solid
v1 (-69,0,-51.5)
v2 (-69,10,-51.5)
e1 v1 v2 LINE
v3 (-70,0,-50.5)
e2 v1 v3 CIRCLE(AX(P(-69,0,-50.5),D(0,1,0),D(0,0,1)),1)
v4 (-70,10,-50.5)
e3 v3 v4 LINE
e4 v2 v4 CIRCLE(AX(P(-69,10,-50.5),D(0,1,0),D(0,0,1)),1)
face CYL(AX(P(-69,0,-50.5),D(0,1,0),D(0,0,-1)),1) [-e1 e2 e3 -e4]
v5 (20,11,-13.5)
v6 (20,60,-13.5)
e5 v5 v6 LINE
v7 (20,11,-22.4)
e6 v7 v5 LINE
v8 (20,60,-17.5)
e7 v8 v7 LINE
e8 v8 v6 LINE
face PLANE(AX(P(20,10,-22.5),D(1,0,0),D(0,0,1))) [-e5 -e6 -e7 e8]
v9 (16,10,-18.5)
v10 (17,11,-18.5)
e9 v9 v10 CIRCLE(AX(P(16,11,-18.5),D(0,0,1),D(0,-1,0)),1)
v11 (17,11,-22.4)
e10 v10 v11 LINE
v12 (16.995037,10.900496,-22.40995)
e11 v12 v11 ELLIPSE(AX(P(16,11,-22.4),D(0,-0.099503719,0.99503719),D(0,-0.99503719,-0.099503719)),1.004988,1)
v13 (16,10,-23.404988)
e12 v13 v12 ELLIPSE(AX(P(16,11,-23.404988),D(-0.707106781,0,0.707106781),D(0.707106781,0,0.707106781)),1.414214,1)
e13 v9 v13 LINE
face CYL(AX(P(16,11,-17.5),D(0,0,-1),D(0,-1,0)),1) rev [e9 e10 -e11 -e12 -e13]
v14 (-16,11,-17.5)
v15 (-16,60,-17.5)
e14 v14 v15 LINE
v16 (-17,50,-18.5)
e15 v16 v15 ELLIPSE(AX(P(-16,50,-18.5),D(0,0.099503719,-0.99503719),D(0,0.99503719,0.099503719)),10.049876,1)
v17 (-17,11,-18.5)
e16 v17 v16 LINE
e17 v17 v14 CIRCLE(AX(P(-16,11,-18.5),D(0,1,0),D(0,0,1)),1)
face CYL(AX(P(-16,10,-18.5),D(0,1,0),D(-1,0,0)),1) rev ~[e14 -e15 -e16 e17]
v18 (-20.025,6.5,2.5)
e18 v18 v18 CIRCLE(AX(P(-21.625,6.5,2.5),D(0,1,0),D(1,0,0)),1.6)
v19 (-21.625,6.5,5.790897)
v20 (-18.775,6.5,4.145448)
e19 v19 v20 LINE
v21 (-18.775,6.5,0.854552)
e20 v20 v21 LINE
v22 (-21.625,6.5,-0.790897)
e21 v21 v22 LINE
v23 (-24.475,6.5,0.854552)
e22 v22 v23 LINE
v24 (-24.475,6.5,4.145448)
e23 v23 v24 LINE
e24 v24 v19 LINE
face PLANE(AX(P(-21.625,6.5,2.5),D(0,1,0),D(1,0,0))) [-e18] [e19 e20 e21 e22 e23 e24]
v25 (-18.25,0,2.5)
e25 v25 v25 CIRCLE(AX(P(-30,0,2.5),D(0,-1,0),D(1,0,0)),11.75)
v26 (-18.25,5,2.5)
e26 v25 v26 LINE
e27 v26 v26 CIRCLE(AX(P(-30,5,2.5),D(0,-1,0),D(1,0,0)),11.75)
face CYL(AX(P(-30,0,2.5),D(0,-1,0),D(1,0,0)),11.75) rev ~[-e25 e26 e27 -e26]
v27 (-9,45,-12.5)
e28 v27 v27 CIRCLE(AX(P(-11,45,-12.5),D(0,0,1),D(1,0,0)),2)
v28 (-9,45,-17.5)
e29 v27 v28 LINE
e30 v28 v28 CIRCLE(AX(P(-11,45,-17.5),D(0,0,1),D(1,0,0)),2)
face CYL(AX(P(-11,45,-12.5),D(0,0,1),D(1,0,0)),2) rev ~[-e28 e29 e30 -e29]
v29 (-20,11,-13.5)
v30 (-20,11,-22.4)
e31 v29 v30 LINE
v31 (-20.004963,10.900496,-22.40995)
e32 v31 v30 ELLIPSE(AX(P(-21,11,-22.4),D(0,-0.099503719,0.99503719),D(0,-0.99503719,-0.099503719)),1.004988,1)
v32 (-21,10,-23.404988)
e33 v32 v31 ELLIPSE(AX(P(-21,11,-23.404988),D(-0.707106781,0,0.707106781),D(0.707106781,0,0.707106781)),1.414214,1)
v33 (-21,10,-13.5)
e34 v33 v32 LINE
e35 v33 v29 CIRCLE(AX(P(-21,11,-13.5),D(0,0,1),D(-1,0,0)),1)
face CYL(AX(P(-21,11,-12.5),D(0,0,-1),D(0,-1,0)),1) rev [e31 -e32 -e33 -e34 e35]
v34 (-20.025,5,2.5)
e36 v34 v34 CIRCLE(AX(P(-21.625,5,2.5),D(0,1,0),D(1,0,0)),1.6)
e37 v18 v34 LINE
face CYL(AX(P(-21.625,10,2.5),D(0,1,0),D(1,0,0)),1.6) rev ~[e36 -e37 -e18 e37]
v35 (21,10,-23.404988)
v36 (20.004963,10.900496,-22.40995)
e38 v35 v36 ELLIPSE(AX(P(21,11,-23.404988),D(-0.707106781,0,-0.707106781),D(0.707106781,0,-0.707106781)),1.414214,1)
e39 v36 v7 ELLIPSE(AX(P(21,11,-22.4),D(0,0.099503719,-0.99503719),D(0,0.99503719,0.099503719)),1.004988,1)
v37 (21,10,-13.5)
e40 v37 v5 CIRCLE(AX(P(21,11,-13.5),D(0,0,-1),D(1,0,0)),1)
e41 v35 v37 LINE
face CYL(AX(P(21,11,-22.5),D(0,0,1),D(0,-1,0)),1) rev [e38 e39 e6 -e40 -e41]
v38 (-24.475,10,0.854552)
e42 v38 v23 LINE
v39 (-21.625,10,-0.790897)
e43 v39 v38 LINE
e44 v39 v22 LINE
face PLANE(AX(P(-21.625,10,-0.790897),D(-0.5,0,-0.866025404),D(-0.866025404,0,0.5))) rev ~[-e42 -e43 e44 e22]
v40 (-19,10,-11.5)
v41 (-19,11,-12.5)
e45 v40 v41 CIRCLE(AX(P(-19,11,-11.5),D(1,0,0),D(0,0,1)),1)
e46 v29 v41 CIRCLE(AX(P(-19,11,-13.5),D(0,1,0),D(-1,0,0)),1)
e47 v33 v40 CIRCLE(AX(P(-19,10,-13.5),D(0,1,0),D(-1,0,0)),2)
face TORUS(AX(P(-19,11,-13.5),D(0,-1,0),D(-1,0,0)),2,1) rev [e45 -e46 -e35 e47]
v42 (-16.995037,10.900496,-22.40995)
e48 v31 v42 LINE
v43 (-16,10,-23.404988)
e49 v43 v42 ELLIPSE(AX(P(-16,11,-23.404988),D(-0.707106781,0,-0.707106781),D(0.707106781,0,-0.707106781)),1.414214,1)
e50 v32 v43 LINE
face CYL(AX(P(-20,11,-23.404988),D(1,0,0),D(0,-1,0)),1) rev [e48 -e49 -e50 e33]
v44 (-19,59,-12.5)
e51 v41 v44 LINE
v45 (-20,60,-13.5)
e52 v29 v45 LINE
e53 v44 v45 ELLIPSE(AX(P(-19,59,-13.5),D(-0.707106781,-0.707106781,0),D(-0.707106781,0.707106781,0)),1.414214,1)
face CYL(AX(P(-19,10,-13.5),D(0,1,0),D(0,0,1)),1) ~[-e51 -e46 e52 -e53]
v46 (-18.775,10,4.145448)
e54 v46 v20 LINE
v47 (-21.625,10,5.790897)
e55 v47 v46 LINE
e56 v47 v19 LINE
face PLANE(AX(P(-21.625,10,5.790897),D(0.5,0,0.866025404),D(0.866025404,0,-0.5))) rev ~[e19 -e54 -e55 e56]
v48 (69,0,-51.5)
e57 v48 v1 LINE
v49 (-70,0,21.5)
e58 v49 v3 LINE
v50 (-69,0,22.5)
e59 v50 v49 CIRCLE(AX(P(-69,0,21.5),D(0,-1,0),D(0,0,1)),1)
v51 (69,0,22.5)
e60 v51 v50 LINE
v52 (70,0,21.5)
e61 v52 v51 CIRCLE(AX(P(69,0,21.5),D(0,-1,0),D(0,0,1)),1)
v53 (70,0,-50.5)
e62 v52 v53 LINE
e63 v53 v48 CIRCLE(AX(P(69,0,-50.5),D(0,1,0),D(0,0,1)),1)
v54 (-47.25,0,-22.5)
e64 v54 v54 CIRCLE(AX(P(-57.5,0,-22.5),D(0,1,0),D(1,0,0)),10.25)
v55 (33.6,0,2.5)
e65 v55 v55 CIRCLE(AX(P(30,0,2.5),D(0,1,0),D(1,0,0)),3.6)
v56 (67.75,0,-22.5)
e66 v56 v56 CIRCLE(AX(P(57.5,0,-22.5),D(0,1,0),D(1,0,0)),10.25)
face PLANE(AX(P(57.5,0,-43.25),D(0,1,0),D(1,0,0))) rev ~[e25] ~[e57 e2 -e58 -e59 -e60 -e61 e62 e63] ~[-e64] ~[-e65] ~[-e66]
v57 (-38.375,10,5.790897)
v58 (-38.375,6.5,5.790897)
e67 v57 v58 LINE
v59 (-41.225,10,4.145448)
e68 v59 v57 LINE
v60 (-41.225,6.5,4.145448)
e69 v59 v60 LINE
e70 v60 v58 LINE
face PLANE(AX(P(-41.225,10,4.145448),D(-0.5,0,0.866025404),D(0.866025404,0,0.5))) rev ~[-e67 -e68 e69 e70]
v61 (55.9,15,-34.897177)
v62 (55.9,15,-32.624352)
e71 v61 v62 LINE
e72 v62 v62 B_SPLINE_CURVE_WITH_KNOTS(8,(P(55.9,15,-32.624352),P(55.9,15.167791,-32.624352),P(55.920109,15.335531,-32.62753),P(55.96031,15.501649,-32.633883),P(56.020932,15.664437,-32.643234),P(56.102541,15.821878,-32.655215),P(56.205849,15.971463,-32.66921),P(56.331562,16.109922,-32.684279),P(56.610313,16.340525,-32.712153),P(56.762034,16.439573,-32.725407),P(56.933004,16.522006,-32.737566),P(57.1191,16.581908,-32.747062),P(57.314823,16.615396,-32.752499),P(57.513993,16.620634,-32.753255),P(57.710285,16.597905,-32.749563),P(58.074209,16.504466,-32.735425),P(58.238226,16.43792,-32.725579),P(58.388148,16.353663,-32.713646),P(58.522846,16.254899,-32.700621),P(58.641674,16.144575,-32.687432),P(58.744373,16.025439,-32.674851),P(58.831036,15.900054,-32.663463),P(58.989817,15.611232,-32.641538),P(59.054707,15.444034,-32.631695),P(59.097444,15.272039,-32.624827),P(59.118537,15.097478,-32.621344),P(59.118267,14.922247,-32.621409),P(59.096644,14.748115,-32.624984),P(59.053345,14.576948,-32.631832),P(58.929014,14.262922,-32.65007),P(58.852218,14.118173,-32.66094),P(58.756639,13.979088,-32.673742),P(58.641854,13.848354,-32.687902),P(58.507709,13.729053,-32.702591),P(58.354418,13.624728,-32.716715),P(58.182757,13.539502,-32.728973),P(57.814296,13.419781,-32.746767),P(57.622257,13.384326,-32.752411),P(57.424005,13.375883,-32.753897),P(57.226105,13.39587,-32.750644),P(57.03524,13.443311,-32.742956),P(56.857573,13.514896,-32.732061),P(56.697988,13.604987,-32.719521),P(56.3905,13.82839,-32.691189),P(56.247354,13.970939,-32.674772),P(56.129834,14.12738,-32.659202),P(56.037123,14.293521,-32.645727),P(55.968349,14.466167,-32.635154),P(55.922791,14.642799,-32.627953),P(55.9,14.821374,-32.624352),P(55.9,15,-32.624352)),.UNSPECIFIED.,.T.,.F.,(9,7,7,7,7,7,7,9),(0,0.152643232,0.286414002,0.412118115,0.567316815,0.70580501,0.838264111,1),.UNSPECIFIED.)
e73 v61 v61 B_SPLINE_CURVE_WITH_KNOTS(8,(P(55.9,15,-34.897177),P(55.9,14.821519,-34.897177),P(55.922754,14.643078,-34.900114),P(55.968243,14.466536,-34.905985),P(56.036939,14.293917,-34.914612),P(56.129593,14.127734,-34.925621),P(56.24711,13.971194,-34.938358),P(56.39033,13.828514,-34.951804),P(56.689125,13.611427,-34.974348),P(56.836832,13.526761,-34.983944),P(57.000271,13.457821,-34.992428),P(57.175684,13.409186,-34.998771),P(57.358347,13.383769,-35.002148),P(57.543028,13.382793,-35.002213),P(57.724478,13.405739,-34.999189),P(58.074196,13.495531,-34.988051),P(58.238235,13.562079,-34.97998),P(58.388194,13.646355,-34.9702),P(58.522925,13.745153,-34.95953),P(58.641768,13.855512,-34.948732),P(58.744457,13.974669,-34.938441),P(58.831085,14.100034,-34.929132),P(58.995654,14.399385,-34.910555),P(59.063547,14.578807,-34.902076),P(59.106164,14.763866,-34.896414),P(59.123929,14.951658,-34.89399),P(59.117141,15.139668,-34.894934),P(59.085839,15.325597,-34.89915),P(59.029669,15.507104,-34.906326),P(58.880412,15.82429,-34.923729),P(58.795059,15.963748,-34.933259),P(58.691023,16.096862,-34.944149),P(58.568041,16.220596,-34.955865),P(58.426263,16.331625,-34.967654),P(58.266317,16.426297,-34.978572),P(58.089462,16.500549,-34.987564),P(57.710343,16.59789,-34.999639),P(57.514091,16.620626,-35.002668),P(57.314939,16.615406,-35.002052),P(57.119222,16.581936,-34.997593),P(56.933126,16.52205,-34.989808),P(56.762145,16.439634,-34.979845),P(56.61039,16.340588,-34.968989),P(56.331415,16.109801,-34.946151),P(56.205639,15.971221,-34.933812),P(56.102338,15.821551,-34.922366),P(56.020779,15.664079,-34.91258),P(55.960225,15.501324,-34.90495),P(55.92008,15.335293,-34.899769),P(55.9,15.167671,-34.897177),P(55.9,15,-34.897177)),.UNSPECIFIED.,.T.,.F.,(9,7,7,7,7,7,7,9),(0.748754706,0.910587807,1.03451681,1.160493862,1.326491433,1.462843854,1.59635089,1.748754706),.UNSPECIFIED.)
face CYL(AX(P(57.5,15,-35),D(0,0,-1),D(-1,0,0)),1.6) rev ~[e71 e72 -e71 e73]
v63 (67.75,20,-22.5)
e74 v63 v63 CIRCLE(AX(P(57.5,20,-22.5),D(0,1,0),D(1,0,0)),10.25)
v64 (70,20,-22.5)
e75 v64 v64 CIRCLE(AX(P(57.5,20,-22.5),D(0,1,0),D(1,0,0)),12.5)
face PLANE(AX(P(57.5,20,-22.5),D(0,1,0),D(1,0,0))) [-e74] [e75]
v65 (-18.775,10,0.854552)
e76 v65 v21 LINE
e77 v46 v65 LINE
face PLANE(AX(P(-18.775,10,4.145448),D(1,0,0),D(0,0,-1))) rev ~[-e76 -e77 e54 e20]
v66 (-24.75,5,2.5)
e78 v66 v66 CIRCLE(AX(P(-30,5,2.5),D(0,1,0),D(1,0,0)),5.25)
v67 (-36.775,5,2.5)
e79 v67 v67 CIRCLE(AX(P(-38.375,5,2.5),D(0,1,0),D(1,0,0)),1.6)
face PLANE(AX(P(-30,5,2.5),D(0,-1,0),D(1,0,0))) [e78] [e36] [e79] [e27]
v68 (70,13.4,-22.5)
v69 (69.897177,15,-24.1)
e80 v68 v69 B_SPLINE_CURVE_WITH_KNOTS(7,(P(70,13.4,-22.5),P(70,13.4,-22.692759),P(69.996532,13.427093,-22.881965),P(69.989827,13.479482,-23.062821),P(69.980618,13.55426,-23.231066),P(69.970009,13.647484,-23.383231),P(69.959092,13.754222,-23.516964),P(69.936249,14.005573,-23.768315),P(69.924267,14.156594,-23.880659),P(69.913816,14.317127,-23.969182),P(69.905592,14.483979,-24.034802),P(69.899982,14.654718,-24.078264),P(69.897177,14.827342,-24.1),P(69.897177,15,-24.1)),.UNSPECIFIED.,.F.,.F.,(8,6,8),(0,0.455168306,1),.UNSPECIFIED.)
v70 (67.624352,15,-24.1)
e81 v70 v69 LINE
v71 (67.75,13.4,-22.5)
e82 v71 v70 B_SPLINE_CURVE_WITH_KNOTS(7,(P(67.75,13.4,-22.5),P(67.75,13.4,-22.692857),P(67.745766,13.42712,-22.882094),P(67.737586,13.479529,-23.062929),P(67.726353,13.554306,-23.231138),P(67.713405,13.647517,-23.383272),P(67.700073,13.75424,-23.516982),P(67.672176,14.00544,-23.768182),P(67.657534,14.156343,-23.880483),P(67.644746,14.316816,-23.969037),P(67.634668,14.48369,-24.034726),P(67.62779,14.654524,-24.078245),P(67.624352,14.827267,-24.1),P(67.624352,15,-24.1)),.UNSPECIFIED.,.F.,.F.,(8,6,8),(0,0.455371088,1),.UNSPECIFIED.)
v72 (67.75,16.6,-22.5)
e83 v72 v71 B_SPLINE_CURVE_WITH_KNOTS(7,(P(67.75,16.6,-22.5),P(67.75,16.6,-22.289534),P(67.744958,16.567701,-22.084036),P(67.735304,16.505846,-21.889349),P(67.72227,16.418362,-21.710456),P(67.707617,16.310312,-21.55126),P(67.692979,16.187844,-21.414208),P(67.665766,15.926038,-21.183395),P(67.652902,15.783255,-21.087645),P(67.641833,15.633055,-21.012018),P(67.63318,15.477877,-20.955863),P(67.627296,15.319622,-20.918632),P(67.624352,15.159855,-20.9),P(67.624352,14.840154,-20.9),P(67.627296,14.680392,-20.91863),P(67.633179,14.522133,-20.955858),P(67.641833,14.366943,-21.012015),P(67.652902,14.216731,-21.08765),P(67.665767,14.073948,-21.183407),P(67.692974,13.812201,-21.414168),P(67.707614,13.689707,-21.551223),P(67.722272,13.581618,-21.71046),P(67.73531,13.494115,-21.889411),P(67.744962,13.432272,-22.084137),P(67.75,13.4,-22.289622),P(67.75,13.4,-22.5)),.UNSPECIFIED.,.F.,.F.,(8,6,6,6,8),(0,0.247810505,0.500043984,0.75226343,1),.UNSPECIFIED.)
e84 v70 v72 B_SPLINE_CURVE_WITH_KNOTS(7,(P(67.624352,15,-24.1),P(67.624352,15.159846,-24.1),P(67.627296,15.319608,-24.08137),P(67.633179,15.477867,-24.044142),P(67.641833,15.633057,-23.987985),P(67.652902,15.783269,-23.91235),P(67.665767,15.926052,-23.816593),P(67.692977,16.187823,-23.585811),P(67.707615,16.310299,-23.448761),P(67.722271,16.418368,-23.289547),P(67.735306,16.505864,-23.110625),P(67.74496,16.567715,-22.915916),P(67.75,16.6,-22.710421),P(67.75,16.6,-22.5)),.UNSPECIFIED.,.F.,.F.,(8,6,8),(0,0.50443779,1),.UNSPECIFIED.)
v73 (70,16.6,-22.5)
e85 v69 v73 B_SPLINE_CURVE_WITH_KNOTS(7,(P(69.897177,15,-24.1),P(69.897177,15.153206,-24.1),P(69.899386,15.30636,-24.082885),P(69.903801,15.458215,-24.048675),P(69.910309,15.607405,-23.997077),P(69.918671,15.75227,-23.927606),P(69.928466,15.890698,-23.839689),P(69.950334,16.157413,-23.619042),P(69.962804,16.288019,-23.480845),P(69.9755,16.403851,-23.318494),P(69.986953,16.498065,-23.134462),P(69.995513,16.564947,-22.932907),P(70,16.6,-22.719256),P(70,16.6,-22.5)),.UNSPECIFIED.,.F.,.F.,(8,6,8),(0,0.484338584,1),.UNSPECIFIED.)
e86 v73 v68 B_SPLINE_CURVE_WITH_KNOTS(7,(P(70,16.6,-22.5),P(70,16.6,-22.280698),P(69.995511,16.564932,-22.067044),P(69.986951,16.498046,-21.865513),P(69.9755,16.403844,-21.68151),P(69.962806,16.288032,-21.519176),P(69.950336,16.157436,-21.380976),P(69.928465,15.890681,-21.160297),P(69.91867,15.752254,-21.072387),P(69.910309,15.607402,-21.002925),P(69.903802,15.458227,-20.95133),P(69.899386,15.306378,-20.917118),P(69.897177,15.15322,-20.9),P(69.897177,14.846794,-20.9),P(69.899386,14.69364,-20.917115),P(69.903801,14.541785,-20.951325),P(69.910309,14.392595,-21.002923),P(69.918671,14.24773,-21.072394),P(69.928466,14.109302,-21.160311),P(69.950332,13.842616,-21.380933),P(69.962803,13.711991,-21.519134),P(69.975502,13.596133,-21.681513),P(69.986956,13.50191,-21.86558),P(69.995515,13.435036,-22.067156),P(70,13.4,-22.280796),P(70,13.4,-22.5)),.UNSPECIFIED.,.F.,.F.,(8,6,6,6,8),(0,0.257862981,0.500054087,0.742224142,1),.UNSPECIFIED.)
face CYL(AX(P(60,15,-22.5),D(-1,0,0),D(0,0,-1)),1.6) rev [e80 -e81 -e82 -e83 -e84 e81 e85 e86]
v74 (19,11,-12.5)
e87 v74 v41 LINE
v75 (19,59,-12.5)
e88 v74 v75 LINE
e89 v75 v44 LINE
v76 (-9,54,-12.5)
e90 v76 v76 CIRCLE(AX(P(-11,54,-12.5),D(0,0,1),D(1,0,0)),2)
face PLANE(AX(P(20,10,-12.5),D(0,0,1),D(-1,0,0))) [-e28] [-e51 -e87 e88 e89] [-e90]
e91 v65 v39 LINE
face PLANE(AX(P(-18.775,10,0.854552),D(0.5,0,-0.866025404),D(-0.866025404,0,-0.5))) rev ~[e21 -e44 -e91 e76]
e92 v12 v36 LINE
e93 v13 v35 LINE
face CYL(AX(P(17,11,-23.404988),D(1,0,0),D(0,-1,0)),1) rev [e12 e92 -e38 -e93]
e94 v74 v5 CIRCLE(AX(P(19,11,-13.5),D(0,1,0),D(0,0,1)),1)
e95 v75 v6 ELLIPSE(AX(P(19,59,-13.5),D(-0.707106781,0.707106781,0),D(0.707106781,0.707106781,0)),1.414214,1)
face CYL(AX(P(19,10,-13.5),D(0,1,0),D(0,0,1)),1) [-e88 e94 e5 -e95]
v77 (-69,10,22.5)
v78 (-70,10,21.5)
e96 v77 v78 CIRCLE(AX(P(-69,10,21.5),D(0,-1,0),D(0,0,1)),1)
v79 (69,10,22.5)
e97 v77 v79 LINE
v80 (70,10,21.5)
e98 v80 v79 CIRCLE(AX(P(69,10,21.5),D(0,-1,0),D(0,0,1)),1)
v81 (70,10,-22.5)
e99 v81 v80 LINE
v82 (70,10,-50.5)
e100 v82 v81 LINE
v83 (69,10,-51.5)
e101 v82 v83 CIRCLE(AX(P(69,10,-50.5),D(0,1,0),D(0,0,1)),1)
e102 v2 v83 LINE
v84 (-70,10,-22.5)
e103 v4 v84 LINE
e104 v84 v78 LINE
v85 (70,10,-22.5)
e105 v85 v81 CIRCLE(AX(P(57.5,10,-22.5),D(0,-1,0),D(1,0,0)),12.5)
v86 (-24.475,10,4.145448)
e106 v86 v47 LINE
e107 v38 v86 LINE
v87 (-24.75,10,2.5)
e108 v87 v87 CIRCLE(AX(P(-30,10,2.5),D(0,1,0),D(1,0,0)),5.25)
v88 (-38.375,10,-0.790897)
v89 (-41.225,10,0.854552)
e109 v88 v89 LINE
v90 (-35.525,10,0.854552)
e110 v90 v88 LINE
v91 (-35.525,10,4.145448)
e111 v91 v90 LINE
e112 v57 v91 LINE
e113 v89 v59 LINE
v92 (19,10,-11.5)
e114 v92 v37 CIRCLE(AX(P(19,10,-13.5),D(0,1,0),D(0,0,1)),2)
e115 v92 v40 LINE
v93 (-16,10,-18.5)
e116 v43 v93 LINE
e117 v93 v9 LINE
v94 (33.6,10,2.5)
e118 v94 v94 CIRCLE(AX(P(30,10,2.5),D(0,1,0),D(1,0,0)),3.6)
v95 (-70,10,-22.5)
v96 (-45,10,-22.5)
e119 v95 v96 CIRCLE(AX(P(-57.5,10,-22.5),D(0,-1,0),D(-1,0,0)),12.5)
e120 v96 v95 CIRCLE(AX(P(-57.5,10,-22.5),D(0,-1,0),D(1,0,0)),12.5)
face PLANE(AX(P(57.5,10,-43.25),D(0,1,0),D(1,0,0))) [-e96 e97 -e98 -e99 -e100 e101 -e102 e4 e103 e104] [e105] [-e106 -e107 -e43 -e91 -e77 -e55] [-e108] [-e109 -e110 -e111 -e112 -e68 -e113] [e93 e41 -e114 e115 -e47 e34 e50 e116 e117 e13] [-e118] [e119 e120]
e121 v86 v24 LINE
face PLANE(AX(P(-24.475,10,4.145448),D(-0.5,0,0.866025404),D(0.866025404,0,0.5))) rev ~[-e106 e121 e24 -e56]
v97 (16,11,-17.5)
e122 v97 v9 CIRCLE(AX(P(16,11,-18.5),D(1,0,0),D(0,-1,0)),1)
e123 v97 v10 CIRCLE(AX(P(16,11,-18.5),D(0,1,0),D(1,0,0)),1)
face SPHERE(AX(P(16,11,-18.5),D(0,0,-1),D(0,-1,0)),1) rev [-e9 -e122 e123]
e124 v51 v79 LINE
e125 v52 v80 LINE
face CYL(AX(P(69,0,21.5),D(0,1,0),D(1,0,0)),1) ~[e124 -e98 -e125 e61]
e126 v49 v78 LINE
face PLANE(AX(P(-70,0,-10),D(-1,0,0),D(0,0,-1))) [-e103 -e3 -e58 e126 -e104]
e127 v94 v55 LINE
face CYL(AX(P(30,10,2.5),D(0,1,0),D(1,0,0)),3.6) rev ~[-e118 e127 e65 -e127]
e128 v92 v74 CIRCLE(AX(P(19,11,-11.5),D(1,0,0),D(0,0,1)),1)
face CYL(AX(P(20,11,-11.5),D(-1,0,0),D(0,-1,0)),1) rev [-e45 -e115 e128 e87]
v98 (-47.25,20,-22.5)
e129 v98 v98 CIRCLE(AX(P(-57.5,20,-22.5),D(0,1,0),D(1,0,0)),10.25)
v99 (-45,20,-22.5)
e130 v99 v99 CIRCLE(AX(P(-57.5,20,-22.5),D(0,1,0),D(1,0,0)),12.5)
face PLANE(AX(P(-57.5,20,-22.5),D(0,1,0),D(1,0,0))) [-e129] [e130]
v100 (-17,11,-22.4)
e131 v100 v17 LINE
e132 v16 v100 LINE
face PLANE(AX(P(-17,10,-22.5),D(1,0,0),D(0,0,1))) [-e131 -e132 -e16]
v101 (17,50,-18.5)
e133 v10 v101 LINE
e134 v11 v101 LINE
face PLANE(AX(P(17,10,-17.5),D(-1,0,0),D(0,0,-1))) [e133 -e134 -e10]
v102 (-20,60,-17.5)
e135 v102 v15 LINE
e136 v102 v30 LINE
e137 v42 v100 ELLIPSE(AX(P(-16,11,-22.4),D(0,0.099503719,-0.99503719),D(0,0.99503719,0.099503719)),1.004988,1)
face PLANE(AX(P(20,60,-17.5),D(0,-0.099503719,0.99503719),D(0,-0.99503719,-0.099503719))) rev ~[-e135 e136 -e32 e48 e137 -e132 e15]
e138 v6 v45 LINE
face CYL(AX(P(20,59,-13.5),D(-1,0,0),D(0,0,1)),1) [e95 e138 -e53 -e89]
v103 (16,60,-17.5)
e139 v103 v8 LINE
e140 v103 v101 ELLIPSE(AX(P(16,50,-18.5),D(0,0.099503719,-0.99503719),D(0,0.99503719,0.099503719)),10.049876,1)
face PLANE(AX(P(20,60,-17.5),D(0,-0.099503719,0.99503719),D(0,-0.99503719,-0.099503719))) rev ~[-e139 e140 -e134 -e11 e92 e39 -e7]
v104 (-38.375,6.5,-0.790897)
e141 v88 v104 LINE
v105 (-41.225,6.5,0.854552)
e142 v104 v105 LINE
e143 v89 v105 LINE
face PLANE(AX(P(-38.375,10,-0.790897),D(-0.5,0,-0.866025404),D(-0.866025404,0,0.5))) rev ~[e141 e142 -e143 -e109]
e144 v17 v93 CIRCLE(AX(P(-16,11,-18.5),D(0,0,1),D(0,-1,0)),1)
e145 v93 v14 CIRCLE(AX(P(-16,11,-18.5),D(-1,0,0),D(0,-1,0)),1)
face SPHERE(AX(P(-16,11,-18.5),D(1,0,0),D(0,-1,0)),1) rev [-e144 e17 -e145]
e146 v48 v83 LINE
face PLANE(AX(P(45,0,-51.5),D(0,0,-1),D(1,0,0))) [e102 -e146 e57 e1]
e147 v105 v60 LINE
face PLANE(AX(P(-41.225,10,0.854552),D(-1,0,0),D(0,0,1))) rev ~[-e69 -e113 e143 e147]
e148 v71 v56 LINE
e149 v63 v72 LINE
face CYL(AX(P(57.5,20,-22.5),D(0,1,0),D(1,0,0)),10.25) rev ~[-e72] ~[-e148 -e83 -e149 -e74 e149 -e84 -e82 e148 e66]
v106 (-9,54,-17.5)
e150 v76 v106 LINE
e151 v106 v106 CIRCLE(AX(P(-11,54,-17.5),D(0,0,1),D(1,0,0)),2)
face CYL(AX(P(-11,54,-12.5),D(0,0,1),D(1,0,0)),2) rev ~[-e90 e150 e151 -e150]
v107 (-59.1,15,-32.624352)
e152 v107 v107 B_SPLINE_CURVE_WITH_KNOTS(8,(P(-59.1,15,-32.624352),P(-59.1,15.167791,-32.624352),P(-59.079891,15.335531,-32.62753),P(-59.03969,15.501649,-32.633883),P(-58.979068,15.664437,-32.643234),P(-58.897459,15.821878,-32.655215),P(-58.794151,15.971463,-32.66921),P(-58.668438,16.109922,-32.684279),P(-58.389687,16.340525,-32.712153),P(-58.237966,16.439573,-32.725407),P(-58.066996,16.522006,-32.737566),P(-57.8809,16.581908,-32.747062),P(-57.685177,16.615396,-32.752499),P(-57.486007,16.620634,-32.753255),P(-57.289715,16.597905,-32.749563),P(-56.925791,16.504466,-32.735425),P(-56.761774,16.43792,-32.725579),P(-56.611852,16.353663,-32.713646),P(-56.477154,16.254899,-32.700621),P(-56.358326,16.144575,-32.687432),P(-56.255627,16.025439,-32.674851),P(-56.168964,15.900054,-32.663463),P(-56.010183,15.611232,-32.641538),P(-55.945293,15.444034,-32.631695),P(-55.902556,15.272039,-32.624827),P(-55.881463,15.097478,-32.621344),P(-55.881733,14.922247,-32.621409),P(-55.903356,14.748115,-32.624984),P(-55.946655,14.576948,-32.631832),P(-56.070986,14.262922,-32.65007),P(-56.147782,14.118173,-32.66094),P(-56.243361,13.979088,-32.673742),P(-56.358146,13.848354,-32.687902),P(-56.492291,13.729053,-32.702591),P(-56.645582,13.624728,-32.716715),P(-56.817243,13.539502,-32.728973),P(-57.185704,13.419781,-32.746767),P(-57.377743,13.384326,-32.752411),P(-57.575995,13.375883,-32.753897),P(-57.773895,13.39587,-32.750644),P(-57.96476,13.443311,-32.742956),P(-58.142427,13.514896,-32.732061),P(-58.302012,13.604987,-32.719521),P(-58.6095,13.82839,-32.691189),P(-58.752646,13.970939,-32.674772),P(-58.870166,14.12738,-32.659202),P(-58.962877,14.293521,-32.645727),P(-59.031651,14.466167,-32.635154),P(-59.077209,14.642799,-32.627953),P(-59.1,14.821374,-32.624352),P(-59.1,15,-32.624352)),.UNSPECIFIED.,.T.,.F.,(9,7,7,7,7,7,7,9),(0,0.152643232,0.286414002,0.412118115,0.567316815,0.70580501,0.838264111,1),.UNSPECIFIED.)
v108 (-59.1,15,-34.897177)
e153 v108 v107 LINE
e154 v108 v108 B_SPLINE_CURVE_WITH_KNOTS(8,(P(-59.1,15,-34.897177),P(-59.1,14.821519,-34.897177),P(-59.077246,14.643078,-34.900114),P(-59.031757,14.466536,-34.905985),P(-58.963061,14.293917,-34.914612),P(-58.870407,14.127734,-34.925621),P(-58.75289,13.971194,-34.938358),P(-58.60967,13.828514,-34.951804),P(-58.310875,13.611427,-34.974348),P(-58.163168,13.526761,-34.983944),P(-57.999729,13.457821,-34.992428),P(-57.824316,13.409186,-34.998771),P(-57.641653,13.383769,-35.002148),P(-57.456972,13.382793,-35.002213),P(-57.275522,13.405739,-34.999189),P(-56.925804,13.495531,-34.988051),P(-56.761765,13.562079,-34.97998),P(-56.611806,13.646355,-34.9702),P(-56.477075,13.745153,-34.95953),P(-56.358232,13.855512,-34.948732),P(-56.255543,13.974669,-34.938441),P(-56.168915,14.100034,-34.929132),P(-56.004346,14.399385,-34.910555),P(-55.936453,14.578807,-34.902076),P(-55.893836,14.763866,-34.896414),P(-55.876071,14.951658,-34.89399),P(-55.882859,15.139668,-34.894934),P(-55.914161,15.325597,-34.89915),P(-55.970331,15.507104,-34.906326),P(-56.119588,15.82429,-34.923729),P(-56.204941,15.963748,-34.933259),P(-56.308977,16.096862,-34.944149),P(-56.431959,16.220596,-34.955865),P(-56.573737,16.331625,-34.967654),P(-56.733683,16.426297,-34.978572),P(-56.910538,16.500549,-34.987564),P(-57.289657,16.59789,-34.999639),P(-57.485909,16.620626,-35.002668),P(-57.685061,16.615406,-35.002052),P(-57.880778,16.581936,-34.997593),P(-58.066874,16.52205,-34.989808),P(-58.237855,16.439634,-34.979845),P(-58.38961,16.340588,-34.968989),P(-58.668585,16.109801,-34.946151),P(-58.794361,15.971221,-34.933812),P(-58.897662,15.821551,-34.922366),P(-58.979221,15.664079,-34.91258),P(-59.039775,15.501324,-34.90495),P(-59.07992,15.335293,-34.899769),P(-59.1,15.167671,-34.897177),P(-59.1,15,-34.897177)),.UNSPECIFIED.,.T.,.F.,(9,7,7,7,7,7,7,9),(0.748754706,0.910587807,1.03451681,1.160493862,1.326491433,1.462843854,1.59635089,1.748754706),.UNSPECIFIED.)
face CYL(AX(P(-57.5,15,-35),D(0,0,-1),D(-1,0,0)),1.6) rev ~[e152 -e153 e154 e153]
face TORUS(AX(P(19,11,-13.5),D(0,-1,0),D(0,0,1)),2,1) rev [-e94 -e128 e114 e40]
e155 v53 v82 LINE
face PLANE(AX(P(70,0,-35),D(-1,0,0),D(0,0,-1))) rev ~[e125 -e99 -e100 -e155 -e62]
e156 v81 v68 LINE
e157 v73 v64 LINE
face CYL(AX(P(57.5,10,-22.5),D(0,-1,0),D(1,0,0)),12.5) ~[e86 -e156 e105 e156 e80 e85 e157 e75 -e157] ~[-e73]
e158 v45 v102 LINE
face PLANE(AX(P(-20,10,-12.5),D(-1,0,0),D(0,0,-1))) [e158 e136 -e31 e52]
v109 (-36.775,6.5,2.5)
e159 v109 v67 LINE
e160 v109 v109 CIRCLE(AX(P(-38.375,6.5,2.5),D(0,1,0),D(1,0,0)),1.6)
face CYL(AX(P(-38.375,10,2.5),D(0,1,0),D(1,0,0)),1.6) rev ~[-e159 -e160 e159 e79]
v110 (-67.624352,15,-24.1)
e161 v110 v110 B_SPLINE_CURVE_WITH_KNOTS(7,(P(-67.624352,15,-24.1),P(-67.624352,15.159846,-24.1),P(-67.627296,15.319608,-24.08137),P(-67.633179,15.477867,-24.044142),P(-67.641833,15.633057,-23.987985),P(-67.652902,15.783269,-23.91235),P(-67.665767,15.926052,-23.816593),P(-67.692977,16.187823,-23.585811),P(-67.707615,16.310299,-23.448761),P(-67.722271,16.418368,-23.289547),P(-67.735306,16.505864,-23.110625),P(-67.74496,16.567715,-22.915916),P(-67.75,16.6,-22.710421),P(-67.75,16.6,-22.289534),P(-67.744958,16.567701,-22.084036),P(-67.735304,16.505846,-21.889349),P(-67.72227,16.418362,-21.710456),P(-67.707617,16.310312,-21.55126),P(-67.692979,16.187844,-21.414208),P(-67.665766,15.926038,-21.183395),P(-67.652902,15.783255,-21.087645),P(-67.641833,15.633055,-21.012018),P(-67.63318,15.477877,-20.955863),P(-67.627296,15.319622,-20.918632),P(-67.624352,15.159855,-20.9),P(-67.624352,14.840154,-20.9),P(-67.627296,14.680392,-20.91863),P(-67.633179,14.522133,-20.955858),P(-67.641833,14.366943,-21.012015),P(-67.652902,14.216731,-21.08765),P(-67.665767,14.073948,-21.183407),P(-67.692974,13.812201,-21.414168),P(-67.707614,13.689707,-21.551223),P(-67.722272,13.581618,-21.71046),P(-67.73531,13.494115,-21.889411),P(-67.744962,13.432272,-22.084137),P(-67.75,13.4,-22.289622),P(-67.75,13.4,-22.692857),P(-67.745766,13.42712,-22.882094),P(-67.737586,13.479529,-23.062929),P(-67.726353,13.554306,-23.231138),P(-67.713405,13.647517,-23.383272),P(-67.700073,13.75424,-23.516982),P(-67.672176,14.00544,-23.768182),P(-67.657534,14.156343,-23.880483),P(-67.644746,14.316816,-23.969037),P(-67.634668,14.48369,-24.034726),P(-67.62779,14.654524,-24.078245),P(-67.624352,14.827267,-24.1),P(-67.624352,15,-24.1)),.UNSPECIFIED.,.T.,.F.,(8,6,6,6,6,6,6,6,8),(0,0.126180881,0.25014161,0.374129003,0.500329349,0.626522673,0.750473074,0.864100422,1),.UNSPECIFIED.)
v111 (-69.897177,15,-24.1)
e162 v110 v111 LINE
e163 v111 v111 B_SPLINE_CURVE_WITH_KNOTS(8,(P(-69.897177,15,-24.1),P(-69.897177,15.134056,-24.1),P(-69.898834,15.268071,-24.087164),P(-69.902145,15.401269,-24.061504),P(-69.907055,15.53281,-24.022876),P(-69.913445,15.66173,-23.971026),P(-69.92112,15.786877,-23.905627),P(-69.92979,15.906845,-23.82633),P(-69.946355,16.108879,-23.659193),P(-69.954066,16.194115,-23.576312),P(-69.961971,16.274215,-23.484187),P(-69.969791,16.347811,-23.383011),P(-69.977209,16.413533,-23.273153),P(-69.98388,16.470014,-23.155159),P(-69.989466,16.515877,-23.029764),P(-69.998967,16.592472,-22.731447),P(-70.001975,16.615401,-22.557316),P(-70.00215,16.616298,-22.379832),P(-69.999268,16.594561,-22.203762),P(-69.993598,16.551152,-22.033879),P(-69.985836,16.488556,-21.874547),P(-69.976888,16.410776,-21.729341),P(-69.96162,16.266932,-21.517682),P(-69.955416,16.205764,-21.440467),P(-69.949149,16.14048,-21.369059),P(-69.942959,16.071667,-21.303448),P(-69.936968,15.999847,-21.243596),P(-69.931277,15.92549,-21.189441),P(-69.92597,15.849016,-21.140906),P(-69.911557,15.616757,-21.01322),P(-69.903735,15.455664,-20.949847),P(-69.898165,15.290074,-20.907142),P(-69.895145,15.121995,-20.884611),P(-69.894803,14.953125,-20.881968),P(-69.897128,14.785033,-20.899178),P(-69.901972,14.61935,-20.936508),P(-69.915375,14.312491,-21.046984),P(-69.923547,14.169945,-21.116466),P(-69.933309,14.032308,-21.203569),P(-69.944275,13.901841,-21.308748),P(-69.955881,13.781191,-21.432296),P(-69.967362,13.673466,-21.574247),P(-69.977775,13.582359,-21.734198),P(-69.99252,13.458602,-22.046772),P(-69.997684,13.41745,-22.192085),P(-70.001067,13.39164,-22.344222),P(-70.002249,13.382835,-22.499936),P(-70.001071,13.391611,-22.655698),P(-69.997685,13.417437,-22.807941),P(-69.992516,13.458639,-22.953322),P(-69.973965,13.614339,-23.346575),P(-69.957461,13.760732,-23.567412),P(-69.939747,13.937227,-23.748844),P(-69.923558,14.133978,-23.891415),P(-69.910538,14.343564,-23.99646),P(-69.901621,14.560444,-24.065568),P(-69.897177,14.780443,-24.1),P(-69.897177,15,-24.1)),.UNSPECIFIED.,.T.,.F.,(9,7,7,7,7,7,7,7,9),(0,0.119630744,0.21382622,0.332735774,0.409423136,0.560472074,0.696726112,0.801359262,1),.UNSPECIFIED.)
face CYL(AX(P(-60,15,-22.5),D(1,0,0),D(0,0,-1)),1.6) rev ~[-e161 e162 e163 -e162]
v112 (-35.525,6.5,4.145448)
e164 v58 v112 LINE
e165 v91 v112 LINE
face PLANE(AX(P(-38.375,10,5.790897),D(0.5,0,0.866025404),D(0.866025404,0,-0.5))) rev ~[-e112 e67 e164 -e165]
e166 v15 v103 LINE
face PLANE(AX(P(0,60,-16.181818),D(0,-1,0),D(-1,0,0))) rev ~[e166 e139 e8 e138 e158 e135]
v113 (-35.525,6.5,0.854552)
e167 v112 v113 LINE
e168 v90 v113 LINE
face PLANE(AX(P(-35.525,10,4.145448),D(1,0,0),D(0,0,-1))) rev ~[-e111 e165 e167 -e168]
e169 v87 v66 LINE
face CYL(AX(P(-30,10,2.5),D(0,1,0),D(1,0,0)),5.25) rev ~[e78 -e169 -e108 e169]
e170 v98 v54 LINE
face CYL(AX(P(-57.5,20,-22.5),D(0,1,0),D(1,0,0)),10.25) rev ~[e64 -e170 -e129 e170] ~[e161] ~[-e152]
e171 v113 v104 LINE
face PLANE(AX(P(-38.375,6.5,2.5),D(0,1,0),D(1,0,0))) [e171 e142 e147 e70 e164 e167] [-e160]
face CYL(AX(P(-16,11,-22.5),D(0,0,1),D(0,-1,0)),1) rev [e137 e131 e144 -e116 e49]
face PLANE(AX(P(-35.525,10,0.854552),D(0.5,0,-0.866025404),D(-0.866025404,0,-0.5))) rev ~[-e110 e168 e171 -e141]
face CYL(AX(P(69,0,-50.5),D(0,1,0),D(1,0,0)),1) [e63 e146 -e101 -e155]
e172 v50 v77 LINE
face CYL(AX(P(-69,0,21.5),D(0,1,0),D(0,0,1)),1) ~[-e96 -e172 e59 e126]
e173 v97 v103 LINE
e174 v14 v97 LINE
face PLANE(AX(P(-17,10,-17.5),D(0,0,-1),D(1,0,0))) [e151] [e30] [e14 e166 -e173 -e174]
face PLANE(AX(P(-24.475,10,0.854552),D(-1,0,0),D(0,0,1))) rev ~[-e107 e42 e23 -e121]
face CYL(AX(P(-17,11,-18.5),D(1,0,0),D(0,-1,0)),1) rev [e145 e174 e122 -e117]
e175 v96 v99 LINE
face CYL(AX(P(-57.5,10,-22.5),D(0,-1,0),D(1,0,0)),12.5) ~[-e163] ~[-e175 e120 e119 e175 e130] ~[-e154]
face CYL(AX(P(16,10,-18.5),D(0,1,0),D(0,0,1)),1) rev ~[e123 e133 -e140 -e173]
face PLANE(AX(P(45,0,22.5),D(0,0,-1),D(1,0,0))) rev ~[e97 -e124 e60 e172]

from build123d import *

# Parameters (mm, degrees)
SALIENTE_EXTRUIR1_DEPTH = 10
CROQUIS3_R              = 5.25
CROQUIS3_R_2            = 3.6
CROQUIS3_R_3            = 1.6
CORTAR_EXTRUIR1_DEPTH   = 11
CORTAR_EXTRUIR2_DEPTH   = 3.5
CROQUIS5_R              = 11.75
CORTAR_EXTRUIR3_DEPTH   = 5
CROQUIS8_W              = 90
CROQUIS8_H              = 29
SALIENTE_EXTRUIR2_DEPTH = 10
CROQUIS9_W              = 25
CROQUIS9_H              = 25
SALIENTE_EXTRUIR4_DEPTH = 10
CROQUIS13_R             = 12.5
SALIENTE_EXTRUIR5_DEPTH = 10
CROQUIS15_R             = 10.25
CORTAR_EXTRUIR5_DEPTH   = 20
CROQUIS16_R             = 1.6
CORTAR_EXTRUIR6_DEPTH   = 10
CROQUIS17_W             = 25
CROQUIS17_H             = 16.5
CROQUIS17_H_2           = 32.5
SALIENTE_EXTRUIR6_DEPTH = 10
CORTAR_EXTRUIR10_START  = 60
CROQUIS19_R             = 1.6
CORTAR_EXTRUIR10_DEPTH  = 11.0000001
SALIENTE_EXTRUIR7_DEPTH = 50
CROQUIS21_R             = 2
CORTAR_EXTRUIR11_DEPTH  = 40
CORTAR_EXTRUIR12_DEPTH  = 40
REDONDEO2_R             = 1
REDONDEO3_R             = 1


with BuildPart() as part:
    # Croquis1 → Saliente-Extruir1 (new body)
    with BuildSketch(Plane(origin=(0, 0, 0), x_dir=(1, 0, 0), z_dir=(0, 1, 0))):
        Polygon((-45, -22.5), (45, -22.5), (45, 22.5), (0, 22.5), (-45, 22.5), align=None)
    extrude(amount=SALIENTE_EXTRUIR1_DEPTH)

    # Croquis3 → Cortar-Extruir1 (cut, through all)
    with BuildSketch(Plane(origin=(0, 10, 0), x_dir=(1, 0, 0), z_dir=(0, 1, 0))):
        with Locations((-30, -2.5)):
            Circle(CROQUIS3_R)
        with Locations((30, -2.5)):
            Circle(CROQUIS3_R_2)
        with Locations((-38.375, -2.5)):
            Circle(CROQUIS3_R_3)
        with Locations((-21.625, -2.5)):
            Circle(CROQUIS3_R_3)
    extrude(amount=-CORTAR_EXTRUIR1_DEPTH, mode=Mode.SUBTRACT)

    # Croquis4 → Cortar-Extruir2 (cut)
    with BuildSketch(Plane(origin=(0, 10, 0), x_dir=(1, 0, 0), z_dir=(0, 1, 0))):
        Polygon((-38.375, 0.790896534), (-41.225, -0.854551733), (-41.225, -4.145448267), (-38.375, -5.790896534), (-35.525, -4.145448267), (-35.525, -0.854551733), align=None)
        Polygon((-21.625, 0.790896534), (-24.475, -0.854551733), (-24.475, -4.145448267), (-21.625, -5.790896534), (-18.775, -4.145448267), (-18.775, -0.854551733), align=None)
    extrude(amount=-CORTAR_EXTRUIR2_DEPTH, mode=Mode.SUBTRACT)

    # Croquis5 → Cortar-Extruir3 (cut)
    with BuildSketch(Plane.XZ):
        with Locations((-30, 2.5)):
            Circle(CROQUIS5_R)
    extrude(amount=-CORTAR_EXTRUIR3_DEPTH, mode=Mode.SUBTRACT)

    # Croquis8 → Saliente-Extruir2 (add)
    with BuildSketch(Plane(origin=(0, 10, 0), x_dir=(1, 0, 0), z_dir=(0, 1, 0))):
        with Locations((0, 37)):
            Rectangle(CROQUIS8_W, CROQUIS8_H)
    extrude(amount=-SALIENTE_EXTRUIR2_DEPTH)

    # Croquis9 → Saliente-Extruir4 (add)
    with BuildSketch(Plane(origin=(0, 0, 0), x_dir=(1, 0, 0), z_dir=(0, 1, 0))):
        with Locations((-57.5, 22.5)):
            Rectangle(CROQUIS9_W, CROQUIS9_H)
        with Locations((57.5, 22.5)):
            Rectangle(CROQUIS9_W, CROQUIS9_H)
    extrude(amount=SALIENTE_EXTRUIR4_DEPTH)

    # Croquis13 → Saliente-Extruir5 (add)
    with BuildSketch(Plane(origin=(0, 10, 0), x_dir=(1, 0, 0), z_dir=(0, 1, 0))):
        with Locations((-57.5, 22.5)):
            Circle(CROQUIS13_R)
        with Locations((57.5, 22.5)):
            Circle(CROQUIS13_R)
    extrude(amount=SALIENTE_EXTRUIR5_DEPTH)

    # Croquis15 → Cortar-Extruir5 (cut)
    with BuildSketch(Plane(origin=(0, 20, 0), x_dir=(1, 0, 0), z_dir=(0, 1, 0))):
        with Locations((-57.5, 22.5)):
            Circle(CROQUIS15_R)
        with Locations((57.5, 22.5)):
            Circle(CROQUIS15_R)
    extrude(amount=-CORTAR_EXTRUIR5_DEPTH, mode=Mode.SUBTRACT)

    # Croquis16 → Cortar-Extruir6 (cut)
    with BuildSketch(Plane(origin=(0, 0, -35), x_dir=(-1, 0, 0), z_dir=(0, 0, -1))):
        with Locations((-57.5, 15)):
            Circle(CROQUIS16_R)
        with Locations((57.5, 15)):
            Circle(CROQUIS16_R)
    extrude(amount=-CORTAR_EXTRUIR6_DEPTH, mode=Mode.SUBTRACT)

    # Croquis17 → Saliente-Extruir6 (add)
    with BuildSketch(Plane(origin=(0, 0, 0), x_dir=(1, 0, 0), z_dir=(0, 1, 0))):
        with Locations((57.5, 43.25)):
            Rectangle(CROQUIS17_W, CROQUIS17_H)
        with Locations((57.5, -6.25)):
            Rectangle(CROQUIS17_W, CROQUIS17_H_2)
        with Locations((-57.5, 43.25)):
            Rectangle(CROQUIS17_W, CROQUIS17_H)
        with Locations((-57.5, -6.25)):
            Rectangle(CROQUIS17_W, CROQUIS17_H_2)
    extrude(amount=SALIENTE_EXTRUIR6_DEPTH)

    # Croquis19 → Cortar-Extruir10 (cut, through all)
    with BuildSketch(Plane(origin=(0, 0, 0), x_dir=(0, 0, -1), z_dir=(1, 0, 0)).offset(CORTAR_EXTRUIR10_START)):
        with Locations((22.5, 15)):
            Circle(CROQUIS19_R)
    cortar_extruir10 = extrude(amount=CORTAR_EXTRUIR10_DEPTH, mode=Mode.SUBTRACT)

    # Simetría1: Cortar-Extruir10 across plane
    add(cortar_extruir10.mirror(Plane(origin=(0, 0, 0), x_dir=(0, 0, 1), z_dir=(1, 0, 0))), mode=Mode.SUBTRACT)

    # Croquis20 → Saliente-Extruir7 (add)
    with BuildSketch(Plane(origin=(0, 10, 0), x_dir=(1, 0, 0), z_dir=(0, 1, 0))):
        Polygon((-20, 22.5), (-17, 22.5), (-17, 17.5), (17, 17.5), (17, 22.5), (20, 22.5), (20, 12.5), (-20, 12.5), align=None)
    extrude(amount=SALIENTE_EXTRUIR7_DEPTH)

    # Croquis21 → Cortar-Extruir11 (cut, through all)
    with BuildSketch(Plane.XY.offset(-12.5)):
        with Locations((-11, 54)):
            Circle(CROQUIS21_R)
        with Locations((-11, 45)):
            Circle(CROQUIS21_R)
    extrude(amount=-CORTAR_EXTRUIR11_DEPTH, mode=Mode.SUBTRACT)

    # Croquis22 → Cortar-Extruir12 (cut)
    with BuildSketch(Plane(origin=(20, 0, 0), x_dir=(0, 0, -1), z_dir=(1, 0, 0))):
        Polygon((17.5, 60), (22.5, 10), (22.5, 60), align=None)
    extrude(amount=-CORTAR_EXTRUIR12_DEPTH, mode=Mode.SUBTRACT)

    # Redondeo2
    redondeo2_edges = [part.edges().sort_by_distance(p)[0] for p in [
        (-70, 5, -51.5),
        (-70, 5, 22.5),
        (70, 5, -51.5),
        (70, 5, 22.5),
    ]]
    fillet(redondeo2_edges, radius=REDONDEO2_R)

    # Redondeo3
    redondeo3_edges = [part.edges().sort_by_distance(p)[0] for p in [
        (-20, 10, -17.5),
        (0, 10, -12.5),
        (-20, 35, -12.5),
        (20, 10, -17.5),
        (20, 35, -12.5),
        (18.5, 10, -22.5),
        (17, 10, -20),
        (0, 10, -17.5),
        (17, 35, -17.5),
        (-17, 10, -20),
        (-17, 35, -17.5),
        (-18.5, 10, -22.5),
        (0, 60, -12.5),
    ]]
    fillet(redondeo3_edges, radius=REDONDEO3_R)


solid = part.part
